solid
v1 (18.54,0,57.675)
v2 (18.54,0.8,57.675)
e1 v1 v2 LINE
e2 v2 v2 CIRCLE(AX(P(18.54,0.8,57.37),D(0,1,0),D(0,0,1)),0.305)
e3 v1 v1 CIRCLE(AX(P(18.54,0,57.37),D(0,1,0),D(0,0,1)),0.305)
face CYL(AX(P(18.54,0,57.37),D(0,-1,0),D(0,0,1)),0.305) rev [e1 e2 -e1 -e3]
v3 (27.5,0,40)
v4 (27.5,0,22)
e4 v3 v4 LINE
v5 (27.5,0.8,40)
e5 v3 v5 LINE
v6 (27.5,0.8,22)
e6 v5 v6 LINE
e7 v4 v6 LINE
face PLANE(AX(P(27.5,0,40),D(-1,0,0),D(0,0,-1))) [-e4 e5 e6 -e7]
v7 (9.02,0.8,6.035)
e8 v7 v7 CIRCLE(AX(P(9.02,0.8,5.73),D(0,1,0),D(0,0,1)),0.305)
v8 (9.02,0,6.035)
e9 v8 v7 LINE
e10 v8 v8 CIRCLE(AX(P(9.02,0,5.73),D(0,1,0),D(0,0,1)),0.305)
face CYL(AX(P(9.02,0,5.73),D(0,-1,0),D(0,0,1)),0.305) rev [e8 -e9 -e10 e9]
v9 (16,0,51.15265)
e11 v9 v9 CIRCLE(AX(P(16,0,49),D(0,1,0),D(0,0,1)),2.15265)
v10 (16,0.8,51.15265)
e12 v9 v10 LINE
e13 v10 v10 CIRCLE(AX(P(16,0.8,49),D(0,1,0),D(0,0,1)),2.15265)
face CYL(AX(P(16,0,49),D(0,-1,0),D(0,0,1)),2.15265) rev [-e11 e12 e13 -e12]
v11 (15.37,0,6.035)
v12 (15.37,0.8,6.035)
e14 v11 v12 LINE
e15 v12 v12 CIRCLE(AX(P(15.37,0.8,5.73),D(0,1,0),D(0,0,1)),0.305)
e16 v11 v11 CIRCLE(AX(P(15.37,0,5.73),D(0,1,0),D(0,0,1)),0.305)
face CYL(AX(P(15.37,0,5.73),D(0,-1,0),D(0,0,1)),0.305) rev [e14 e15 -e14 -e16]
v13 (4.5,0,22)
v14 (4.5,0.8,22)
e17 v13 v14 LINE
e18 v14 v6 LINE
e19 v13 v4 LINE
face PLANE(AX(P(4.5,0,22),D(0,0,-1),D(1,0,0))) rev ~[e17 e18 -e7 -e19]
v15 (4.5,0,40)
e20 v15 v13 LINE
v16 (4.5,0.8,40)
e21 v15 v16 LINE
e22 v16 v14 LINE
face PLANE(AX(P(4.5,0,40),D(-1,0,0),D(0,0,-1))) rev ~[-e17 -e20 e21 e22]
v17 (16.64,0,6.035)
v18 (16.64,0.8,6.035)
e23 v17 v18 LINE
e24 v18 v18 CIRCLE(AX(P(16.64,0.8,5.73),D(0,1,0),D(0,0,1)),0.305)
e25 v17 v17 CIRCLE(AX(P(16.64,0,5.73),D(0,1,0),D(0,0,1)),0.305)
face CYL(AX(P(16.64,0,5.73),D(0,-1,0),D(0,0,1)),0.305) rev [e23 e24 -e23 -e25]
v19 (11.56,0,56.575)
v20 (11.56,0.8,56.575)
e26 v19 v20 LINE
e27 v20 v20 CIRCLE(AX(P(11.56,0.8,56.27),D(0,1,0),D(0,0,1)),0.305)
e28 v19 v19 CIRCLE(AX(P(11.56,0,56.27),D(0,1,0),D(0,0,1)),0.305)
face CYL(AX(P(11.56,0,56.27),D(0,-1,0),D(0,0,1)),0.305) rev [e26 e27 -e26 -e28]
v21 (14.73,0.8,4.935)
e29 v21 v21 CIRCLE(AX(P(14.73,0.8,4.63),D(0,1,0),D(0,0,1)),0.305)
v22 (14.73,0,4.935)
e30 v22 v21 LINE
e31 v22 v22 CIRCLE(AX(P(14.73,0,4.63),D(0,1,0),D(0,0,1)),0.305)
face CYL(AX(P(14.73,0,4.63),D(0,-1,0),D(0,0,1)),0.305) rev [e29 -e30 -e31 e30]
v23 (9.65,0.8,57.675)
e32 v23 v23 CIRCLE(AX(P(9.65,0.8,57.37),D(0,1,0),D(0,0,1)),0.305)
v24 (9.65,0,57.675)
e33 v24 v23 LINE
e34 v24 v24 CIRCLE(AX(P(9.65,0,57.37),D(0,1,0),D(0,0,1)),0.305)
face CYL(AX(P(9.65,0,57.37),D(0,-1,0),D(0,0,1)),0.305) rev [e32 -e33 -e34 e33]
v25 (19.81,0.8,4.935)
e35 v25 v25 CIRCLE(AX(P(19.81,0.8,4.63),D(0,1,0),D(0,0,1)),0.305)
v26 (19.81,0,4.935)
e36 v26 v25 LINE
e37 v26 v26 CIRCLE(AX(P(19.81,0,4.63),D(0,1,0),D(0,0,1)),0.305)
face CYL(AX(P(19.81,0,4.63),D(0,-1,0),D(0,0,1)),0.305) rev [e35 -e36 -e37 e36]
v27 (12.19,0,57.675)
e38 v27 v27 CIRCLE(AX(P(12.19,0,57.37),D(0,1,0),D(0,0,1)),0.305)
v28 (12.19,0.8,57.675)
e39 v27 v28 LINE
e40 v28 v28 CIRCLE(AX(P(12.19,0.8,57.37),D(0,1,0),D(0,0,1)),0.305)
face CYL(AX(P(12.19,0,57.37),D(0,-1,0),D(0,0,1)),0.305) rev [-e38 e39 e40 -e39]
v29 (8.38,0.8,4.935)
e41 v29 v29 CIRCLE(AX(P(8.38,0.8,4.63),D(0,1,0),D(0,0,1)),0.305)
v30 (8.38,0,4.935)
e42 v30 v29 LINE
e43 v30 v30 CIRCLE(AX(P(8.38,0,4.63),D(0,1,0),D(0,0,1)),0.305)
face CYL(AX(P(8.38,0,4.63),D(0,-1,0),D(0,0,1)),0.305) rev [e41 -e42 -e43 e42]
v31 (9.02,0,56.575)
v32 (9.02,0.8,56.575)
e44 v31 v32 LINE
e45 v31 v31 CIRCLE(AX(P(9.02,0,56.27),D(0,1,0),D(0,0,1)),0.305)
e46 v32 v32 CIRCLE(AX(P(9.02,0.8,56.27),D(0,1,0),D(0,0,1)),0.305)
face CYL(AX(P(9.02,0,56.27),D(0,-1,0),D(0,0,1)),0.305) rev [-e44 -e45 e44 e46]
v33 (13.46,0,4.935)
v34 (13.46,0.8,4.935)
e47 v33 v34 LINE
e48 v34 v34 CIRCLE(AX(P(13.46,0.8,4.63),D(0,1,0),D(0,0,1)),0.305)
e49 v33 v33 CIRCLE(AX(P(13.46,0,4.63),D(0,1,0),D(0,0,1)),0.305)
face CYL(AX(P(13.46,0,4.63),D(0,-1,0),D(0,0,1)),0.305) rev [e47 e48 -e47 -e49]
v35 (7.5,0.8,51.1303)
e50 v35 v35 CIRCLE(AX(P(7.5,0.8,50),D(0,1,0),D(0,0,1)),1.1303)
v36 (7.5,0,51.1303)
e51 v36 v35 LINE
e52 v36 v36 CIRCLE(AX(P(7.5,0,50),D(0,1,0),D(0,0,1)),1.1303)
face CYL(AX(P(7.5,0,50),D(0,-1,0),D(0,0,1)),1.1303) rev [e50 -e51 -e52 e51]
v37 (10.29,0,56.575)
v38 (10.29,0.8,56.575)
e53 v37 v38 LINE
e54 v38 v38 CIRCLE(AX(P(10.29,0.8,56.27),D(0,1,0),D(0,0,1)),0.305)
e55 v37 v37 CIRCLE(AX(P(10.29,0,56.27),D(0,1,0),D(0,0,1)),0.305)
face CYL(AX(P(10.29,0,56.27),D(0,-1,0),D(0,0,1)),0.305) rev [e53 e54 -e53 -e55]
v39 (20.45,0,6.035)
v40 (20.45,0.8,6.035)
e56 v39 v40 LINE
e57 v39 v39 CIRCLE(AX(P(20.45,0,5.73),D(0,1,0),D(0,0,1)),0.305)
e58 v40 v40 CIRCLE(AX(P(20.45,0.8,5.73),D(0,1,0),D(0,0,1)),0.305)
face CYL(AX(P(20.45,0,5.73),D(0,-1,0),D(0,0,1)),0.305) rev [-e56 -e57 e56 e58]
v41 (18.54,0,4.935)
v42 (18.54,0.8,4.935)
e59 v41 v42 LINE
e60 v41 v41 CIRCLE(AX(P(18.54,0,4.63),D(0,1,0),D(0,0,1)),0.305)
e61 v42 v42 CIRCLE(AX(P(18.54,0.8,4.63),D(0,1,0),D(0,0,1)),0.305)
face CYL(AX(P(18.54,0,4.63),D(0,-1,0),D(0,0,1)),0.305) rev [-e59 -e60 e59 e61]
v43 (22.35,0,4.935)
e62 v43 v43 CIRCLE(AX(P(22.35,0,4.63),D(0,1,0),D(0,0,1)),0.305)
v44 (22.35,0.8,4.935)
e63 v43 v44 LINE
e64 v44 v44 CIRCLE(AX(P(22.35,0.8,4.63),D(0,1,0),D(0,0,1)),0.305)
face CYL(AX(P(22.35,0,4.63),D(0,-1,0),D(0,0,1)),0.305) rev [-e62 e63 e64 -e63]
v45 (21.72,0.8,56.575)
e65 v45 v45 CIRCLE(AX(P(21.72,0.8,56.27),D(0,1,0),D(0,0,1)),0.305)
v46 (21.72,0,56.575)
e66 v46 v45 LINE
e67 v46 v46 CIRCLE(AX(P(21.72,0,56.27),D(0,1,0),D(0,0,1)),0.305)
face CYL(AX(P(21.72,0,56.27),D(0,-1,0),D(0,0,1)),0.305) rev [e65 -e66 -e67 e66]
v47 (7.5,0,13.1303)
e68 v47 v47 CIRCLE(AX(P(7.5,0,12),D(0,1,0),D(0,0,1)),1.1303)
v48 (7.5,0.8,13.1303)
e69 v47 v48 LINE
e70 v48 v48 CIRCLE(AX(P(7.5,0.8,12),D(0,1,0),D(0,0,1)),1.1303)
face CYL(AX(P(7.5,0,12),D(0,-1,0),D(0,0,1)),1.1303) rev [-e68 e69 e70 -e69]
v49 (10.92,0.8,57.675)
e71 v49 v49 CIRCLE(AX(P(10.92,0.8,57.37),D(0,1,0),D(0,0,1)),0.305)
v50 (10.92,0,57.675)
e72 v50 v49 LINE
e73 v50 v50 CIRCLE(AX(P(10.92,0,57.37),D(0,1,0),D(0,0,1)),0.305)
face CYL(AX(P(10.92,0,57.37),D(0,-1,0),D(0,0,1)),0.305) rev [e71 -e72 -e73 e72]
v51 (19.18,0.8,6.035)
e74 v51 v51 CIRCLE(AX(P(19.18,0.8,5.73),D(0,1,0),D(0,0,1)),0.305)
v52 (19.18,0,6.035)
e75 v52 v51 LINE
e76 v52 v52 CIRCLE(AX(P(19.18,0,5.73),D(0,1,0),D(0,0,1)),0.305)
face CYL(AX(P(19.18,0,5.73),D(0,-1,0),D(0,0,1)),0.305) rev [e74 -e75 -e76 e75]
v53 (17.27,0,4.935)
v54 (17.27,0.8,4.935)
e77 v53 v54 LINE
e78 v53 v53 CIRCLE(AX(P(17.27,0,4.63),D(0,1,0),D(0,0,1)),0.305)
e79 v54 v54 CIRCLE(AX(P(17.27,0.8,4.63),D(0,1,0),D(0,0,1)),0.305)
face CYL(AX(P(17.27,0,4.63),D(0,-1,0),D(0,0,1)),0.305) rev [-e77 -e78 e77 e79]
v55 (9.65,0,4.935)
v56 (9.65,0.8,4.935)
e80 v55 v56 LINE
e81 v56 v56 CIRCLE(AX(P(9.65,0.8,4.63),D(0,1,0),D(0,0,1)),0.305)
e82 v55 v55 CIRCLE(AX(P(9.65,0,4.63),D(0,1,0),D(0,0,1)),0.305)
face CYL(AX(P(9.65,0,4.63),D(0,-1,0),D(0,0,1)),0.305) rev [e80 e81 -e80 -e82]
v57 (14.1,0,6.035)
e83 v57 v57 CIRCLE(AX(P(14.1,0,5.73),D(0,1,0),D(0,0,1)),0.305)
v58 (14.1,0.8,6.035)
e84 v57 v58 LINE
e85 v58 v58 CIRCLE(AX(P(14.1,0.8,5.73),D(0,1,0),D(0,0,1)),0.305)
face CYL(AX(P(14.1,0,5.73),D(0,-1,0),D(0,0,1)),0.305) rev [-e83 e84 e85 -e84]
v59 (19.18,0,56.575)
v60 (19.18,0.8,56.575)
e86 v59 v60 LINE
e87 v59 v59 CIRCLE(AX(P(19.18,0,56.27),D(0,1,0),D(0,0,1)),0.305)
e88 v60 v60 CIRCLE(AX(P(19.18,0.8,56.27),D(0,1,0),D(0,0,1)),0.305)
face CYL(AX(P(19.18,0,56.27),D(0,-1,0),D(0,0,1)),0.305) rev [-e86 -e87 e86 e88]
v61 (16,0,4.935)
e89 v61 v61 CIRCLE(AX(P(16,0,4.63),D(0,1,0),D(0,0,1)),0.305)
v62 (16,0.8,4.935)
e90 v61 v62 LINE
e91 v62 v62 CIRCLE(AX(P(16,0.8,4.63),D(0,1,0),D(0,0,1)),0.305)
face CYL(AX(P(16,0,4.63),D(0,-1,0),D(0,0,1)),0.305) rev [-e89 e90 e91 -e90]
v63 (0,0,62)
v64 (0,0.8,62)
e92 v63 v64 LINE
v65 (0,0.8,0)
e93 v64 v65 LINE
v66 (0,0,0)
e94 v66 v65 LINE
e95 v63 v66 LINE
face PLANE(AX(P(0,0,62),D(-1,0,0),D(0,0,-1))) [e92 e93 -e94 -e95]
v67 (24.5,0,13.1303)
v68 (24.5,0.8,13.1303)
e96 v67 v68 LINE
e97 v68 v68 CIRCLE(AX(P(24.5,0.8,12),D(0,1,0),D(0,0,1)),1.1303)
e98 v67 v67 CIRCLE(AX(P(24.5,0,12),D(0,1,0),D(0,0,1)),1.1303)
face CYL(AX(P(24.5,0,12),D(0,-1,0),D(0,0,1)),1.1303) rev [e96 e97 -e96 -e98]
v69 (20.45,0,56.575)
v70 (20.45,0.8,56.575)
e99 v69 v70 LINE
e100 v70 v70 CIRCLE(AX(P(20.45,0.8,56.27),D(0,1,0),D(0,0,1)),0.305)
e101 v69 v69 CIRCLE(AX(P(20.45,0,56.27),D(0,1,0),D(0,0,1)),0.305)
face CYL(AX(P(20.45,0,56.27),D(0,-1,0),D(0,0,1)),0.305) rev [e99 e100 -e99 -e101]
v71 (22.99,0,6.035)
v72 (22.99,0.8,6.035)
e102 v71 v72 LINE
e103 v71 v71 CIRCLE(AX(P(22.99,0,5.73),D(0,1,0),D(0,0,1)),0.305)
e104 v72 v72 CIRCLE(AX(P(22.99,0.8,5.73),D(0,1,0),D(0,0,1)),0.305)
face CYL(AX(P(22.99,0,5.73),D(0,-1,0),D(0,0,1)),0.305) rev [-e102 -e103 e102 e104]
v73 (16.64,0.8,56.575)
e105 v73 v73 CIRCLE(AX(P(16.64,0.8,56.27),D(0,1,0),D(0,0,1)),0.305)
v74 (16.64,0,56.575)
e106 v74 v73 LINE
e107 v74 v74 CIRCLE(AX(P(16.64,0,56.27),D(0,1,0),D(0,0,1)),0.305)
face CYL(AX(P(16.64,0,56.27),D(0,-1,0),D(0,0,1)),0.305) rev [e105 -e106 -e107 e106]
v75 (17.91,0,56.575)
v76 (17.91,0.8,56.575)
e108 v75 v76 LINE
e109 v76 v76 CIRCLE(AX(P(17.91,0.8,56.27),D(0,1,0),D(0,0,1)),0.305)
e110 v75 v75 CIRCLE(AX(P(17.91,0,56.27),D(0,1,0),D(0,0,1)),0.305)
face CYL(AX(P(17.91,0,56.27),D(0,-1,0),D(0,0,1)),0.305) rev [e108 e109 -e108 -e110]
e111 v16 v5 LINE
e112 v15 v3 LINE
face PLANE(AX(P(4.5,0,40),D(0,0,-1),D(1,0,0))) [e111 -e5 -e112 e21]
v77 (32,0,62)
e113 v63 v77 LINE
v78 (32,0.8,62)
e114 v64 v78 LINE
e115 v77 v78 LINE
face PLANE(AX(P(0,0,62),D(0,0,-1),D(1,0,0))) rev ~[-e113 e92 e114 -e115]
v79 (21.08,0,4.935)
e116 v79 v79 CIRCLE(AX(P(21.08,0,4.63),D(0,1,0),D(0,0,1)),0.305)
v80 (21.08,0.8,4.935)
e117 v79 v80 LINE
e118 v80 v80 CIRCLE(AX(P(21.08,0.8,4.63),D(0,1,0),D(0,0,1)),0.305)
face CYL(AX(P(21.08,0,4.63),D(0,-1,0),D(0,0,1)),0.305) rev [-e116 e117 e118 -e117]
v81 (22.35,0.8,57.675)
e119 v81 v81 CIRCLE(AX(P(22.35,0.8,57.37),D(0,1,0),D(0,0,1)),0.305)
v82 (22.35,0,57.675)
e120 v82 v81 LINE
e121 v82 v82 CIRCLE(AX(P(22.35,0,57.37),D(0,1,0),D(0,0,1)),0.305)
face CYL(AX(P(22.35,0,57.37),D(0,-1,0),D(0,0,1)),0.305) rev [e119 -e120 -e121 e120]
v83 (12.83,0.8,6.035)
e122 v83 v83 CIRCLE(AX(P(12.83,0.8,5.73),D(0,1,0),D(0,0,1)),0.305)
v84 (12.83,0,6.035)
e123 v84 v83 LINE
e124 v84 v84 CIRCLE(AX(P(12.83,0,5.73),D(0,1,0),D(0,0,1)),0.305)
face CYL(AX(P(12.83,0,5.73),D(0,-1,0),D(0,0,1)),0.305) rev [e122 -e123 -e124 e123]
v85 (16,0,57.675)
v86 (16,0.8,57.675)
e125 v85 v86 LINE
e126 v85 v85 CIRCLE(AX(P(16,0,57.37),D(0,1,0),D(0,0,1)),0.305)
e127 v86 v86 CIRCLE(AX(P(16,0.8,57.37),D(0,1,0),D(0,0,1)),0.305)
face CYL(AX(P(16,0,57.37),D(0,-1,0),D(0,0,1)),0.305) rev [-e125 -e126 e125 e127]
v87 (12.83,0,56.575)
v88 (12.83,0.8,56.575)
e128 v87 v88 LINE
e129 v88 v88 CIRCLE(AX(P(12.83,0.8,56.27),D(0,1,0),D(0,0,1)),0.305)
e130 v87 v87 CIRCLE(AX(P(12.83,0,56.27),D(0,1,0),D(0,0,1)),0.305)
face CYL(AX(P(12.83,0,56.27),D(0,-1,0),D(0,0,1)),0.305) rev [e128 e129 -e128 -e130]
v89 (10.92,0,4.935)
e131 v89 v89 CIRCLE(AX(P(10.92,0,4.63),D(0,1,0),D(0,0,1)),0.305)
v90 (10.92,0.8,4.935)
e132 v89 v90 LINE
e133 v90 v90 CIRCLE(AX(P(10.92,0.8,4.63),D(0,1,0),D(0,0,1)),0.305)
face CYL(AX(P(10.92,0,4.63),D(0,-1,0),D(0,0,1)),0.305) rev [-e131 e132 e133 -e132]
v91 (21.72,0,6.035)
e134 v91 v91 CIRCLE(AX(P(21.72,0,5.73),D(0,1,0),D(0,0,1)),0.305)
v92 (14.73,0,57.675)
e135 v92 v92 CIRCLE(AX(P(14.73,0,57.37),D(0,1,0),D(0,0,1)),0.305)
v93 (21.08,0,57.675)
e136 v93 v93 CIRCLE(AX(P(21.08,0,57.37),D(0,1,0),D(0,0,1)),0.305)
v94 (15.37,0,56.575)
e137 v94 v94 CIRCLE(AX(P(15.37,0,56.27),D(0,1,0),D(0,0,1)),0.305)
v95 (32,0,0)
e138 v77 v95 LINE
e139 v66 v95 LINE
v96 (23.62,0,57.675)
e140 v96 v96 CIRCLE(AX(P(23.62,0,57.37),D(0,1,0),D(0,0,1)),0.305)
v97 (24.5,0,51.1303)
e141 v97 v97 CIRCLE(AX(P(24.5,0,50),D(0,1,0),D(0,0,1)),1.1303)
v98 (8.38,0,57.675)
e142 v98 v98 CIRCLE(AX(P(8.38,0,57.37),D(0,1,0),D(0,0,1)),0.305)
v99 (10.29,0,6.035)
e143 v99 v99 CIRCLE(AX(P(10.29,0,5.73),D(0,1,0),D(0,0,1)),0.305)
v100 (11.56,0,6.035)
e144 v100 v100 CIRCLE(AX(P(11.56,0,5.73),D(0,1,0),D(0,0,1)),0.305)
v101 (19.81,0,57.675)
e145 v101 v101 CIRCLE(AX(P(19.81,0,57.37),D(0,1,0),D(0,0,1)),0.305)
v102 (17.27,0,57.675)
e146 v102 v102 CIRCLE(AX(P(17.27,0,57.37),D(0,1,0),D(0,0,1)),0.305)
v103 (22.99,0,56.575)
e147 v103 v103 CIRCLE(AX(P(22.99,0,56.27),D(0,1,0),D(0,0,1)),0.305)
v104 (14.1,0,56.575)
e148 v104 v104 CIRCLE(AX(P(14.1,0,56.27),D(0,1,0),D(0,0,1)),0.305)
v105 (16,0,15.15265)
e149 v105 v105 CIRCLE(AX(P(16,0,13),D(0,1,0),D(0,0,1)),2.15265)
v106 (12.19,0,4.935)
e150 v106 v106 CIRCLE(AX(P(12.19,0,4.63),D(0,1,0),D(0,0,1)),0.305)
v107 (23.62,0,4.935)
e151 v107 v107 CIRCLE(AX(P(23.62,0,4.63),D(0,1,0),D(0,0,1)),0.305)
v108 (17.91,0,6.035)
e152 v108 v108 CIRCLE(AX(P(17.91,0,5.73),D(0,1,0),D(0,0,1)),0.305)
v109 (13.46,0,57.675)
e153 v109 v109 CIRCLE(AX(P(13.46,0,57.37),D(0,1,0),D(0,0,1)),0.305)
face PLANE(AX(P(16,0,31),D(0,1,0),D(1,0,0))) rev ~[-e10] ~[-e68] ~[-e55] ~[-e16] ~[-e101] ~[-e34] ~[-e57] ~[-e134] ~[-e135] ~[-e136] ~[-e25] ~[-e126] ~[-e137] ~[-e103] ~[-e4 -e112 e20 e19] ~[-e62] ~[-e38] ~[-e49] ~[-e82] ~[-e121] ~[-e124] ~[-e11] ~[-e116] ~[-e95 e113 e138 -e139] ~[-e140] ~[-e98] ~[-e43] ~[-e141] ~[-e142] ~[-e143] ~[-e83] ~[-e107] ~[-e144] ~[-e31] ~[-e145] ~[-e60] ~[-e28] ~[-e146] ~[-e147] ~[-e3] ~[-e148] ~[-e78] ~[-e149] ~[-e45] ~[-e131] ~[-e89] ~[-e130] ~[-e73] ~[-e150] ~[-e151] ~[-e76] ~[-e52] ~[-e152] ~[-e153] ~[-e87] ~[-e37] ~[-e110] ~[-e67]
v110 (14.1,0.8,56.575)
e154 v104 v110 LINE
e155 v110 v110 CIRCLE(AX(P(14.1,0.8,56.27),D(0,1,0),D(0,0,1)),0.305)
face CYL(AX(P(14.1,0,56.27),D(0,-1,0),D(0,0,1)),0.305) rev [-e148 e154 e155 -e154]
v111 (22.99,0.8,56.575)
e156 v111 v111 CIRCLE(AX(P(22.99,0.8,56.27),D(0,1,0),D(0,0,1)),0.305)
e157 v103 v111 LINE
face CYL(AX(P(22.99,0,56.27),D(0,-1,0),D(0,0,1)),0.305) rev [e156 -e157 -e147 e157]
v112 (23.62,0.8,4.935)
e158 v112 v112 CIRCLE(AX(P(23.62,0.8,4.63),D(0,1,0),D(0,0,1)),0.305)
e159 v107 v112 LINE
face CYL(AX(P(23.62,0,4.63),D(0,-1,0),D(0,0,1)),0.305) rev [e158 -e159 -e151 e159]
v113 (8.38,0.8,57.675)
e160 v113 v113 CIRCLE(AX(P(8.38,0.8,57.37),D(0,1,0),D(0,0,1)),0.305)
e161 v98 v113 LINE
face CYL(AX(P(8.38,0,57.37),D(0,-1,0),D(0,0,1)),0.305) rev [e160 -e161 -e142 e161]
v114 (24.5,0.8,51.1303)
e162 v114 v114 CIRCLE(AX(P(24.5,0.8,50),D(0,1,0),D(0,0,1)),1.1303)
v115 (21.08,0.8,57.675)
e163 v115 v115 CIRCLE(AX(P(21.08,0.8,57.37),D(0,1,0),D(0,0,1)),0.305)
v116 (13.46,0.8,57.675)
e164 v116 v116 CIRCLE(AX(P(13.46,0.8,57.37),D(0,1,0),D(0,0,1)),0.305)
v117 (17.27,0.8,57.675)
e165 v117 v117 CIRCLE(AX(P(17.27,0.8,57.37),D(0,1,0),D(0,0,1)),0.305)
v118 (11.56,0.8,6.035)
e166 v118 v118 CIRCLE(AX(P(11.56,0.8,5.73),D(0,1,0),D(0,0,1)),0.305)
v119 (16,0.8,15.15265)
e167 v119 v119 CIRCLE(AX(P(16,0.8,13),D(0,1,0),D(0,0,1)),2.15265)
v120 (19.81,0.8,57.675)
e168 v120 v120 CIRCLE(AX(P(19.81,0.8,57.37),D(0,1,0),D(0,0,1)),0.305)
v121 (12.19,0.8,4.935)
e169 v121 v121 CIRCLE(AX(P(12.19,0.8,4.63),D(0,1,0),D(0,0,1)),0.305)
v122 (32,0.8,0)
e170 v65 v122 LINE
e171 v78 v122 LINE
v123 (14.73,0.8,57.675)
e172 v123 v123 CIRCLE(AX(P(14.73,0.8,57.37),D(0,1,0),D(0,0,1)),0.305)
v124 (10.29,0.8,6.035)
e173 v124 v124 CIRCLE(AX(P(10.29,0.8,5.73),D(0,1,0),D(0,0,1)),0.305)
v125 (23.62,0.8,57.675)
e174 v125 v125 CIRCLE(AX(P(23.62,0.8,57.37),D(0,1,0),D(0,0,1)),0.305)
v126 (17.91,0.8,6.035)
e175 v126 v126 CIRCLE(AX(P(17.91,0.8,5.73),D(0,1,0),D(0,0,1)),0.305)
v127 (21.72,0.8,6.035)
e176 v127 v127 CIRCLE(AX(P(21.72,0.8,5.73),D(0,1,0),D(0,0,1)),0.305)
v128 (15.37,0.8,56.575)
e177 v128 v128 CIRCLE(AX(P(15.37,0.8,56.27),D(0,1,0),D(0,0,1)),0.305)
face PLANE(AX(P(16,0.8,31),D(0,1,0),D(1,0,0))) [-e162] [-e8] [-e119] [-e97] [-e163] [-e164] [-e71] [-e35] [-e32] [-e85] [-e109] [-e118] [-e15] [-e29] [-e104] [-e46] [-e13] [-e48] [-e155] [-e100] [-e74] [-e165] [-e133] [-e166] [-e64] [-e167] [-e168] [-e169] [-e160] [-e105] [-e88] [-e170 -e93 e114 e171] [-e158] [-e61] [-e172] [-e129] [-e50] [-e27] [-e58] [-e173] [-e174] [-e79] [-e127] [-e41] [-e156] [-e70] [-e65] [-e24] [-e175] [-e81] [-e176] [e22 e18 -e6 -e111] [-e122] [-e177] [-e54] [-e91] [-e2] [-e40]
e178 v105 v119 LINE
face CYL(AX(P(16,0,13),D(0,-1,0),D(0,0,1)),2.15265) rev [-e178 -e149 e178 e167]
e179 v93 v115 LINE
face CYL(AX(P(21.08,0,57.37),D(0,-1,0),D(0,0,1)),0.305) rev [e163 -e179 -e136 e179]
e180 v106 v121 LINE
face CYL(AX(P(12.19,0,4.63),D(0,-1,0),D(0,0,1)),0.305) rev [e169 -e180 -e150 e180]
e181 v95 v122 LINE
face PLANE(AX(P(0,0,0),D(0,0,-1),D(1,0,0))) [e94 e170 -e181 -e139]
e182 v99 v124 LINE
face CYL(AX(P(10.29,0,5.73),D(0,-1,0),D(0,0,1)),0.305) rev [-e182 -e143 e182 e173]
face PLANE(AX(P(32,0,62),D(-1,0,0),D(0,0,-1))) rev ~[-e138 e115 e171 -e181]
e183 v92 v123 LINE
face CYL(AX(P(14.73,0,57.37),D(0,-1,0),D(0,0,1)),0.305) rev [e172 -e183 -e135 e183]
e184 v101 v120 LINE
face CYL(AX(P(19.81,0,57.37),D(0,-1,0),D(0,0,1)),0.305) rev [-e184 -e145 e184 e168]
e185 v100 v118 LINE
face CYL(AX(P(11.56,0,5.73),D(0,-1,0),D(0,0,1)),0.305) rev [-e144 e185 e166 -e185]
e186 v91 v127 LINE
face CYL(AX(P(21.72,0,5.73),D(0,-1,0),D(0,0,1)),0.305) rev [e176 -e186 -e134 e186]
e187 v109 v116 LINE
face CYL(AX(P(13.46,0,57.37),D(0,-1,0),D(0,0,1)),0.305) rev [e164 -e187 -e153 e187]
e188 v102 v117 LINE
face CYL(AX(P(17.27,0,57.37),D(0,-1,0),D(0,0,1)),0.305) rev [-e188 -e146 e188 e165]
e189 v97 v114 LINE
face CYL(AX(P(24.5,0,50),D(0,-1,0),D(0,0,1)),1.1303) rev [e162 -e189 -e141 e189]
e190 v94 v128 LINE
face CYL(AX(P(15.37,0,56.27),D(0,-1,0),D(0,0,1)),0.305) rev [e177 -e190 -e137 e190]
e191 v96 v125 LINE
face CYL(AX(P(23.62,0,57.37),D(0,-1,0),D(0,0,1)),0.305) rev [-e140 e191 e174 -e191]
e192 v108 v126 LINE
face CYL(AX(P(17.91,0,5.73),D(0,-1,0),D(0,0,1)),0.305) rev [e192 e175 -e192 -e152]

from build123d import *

# Parameters (mm, degrees)
SKETCH2_W           = 32
SKETCH2_H           = 62
SKETCH2_R           = 0.305
SKETCH2_R_2         = 2.15265
SKETCH2_R_3         = 1.1303
SKETCH2_W_2         = 23
SKETCH2_H_2         = 18
BOSS_EXTRUDE1_DEPTH = 0.8


with BuildPart() as part:
    # Sketch2 → Boss-Extrude1 (new body)
    with BuildSketch(Plane(origin=(0, 0, 0), x_dir=(1, 0, 0), z_dir=(0, 1, 0))):
        with Locations((16, -31)):
            Rectangle(SKETCH2_W, SKETCH2_H)
        with Locations(Location((9.02, -5.73, 0), (0, 0, 270))):
            Circle(SKETCH2_R, mode=Mode.SUBTRACT)
        with Locations(Location((16, -13, 0), (0, 0, 270))):
            Circle(SKETCH2_R_2, mode=Mode.SUBTRACT)
        with Locations(Location((24.5, -12, 0), (0, 0, 270))):
            Circle(SKETCH2_R_3, mode=Mode.SUBTRACT)
        with Locations(Location((7.5, -12, 0), (0, 0, 270))):
            Circle(SKETCH2_R_3, mode=Mode.SUBTRACT)
        with Locations(Location((8.38, -4.63, 0), (0, 0, 270))):
            Circle(SKETCH2_R, mode=Mode.SUBTRACT)
        with Locations(Location((7.5, -50, 0), (0, 0, 270))):
            Circle(SKETCH2_R_3, mode=Mode.SUBTRACT)
        with Locations(Location((24.5, -50, 0), (0, 0, 270))):
            Circle(SKETCH2_R_3, mode=Mode.SUBTRACT)
        with Locations(Location((16, -49, 0), (0, 0, 270))):
            Circle(SKETCH2_R_2, mode=Mode.SUBTRACT)
        with Locations(Location((9.65, -4.63, 0), (0, 0, 270))):
            Circle(SKETCH2_R, mode=Mode.SUBTRACT)
        with Locations(Location((10.92, -4.63, 0), (0, 0, 270))):
            Circle(SKETCH2_R, mode=Mode.SUBTRACT)
        with Locations(Location((12.19, -4.63, 0), (0, 0, 270))):
            Circle(SKETCH2_R, mode=Mode.SUBTRACT)
        with Locations(Location((13.46, -4.63, 0), (0, 0, 270))):
            Circle(SKETCH2_R, mode=Mode.SUBTRACT)
        with Locations(Location((14.73, -4.63, 0), (0, 0, 270))):
            Circle(SKETCH2_R, mode=Mode.SUBTRACT)
        with Locations(Location((16, -4.63, 0), (0, 0, 270))):
            Circle(SKETCH2_R, mode=Mode.SUBTRACT)
        with Locations(Location((17.27, -4.63, 0), (0, 0, 270))):
            Circle(SKETCH2_R, mode=Mode.SUBTRACT)
        with Locations(Location((18.54, -4.63, 0), (0, 0, 270))):
            Circle(SKETCH2_R, mode=Mode.SUBTRACT)
        with Locations(Location((19.81, -4.63, 0), (0, 0, 270))):
            Circle(SKETCH2_R, mode=Mode.SUBTRACT)
        with Locations(Location((21.08, -4.63, 0), (0, 0, 270))):
            Circle(SKETCH2_R, mode=Mode.SUBTRACT)
        with Locations(Location((22.35, -4.63, 0), (0, 0, 270))):
            Circle(SKETCH2_R, mode=Mode.SUBTRACT)
        with Locations(Location((23.62, -4.63, 0), (0, 0, 270))):
            Circle(SKETCH2_R, mode=Mode.SUBTRACT)
        with Locations(Location((10.29, -5.73, 0), (0, 0, 270))):
            Circle(SKETCH2_R, mode=Mode.SUBTRACT)
        with Locations(Location((11.56, -5.73, 0), (0, 0, 270))):
            Circle(SKETCH2_R, mode=Mode.SUBTRACT)
        with Locations(Location((12.83, -5.73, 0), (0, 0, 270))):
            Circle(SKETCH2_R, mode=Mode.SUBTRACT)
        with Locations(Location((14.1, -5.73, 0), (0, 0, 270))):
            Circle(SKETCH2_R, mode=Mode.SUBTRACT)
        with Locations(Location((15.37, -5.73, 0), (0, 0, 270))):
            Circle(SKETCH2_R, mode=Mode.SUBTRACT)
        with Locations(Location((16.64, -5.73, 0), (0, 0, 270))):
            Circle(SKETCH2_R, mode=Mode.SUBTRACT)
        with Locations(Location((17.91, -5.73, 0), (0, 0, 270))):
            Circle(SKETCH2_R, mode=Mode.SUBTRACT)
        with Locations(Location((19.18, -5.73, 0), (0, 0, 270))):
            Circle(SKETCH2_R, mode=Mode.SUBTRACT)
        with Locations(Location((20.45, -5.73, 0), (0, 0, 270))):
            Circle(SKETCH2_R, mode=Mode.SUBTRACT)
        with Locations(Location((21.72, -5.73, 0), (0, 0, 270))):
            Circle(SKETCH2_R, mode=Mode.SUBTRACT)
        with Locations(Location((22.99, -5.73, 0), (0, 0, 270))):
            Circle(SKETCH2_R, mode=Mode.SUBTRACT)
        with Locations(Location((22.99, -56.27, 0), (0, 0, 270))):
            Circle(SKETCH2_R, mode=Mode.SUBTRACT)
        with Locations(Location((21.72, -56.27, 0), (0, 0, 270))):
            Circle(SKETCH2_R, mode=Mode.SUBTRACT)
        with Locations(Location((20.45, -56.27, 0), (0, 0, 270))):
            Circle(SKETCH2_R, mode=Mode.SUBTRACT)
        with Locations(Location((19.18, -56.27, 0), (0, 0, 270))):
            Circle(SKETCH2_R, mode=Mode.SUBTRACT)
        with Locations(Location((17.91, -56.27, 0), (0, 0, 270))):
            Circle(SKETCH2_R, mode=Mode.SUBTRACT)
        with Locations(Location((16.64, -56.27, 0), (0, 0, 270))):
            Circle(SKETCH2_R, mode=Mode.SUBTRACT)
        with Locations(Location((15.37, -56.27, 0), (0, 0, 270))):
            Circle(SKETCH2_R, mode=Mode.SUBTRACT)
        with Locations(Location((14.1, -56.27, 0), (0, 0, 270))):
            Circle(SKETCH2_R, mode=Mode.SUBTRACT)
        with Locations(Location((12.83, -56.27, 0), (0, 0, 270))):
            Circle(SKETCH2_R, mode=Mode.SUBTRACT)
        with Locations(Location((11.56, -56.27, 0), (0, 0, 270))):
            Circle(SKETCH2_R, mode=Mode.SUBTRACT)
        with Locations(Location((10.29, -56.27, 0), (0, 0, 270))):
            Circle(SKETCH2_R, mode=Mode.SUBTRACT)
        with Locations(Location((23.62, -57.37, 0), (0, 0, 270))):
            Circle(SKETCH2_R, mode=Mode.SUBTRACT)
        with Locations(Location((22.35, -57.37, 0), (0, 0, 270))):
            Circle(SKETCH2_R, mode=Mode.SUBTRACT)
        with Locations(Location((21.08, -57.37, 0), (0, 0, 270))):
            Circle(SKETCH2_R, mode=Mode.SUBTRACT)
        with Locations(Location((19.81, -57.37, 0), (0, 0, 270))):
            Circle(SKETCH2_R, mode=Mode.SUBTRACT)
        with Locations(Location((18.54, -57.37, 0), (0, 0, 270))):
            Circle(SKETCH2_R, mode=Mode.SUBTRACT)
        with Locations(Location((17.27, -57.37, 0), (0, 0, 270))):
            Circle(SKETCH2_R, mode=Mode.SUBTRACT)
        with Locations(Location((16, -57.37, 0), (0, 0, 270))):
            Circle(SKETCH2_R, mode=Mode.SUBTRACT)
        with Locations(Location((14.73, -57.37, 0), (0, 0, 270))):
            Circle(SKETCH2_R, mode=Mode.SUBTRACT)
        with Locations(Location((13.46, -57.37, 0), (0, 0, 270))):
            Circle(SKETCH2_R, mode=Mode.SUBTRACT)
        with Locations(Location((12.19, -57.37, 0), (0, 0, 270))):
            Circle(SKETCH2_R, mode=Mode.SUBTRACT)
        with Locations(Location((10.92, -57.37, 0), (0, 0, 270))):
            Circle(SKETCH2_R, mode=Mode.SUBTRACT)
        with Locations(Location((9.65, -57.37, 0), (0, 0, 270))):
            Circle(SKETCH2_R, mode=Mode.SUBTRACT)
        with Locations(Location((8.38, -57.37, 0), (0, 0, 270))):
            Circle(SKETCH2_R, mode=Mode.SUBTRACT)
        with Locations(Location((9.02, -56.27, 0), (0, 0, 270))):
            Circle(SKETCH2_R, mode=Mode.SUBTRACT)
        with Locations((16, -31)):
            Rectangle(SKETCH2_W_2, SKETCH2_H_2, mode=Mode.SUBTRACT)
    extrude(amount=BOSS_EXTRUDE1_DEPTH)


solid = part.part
